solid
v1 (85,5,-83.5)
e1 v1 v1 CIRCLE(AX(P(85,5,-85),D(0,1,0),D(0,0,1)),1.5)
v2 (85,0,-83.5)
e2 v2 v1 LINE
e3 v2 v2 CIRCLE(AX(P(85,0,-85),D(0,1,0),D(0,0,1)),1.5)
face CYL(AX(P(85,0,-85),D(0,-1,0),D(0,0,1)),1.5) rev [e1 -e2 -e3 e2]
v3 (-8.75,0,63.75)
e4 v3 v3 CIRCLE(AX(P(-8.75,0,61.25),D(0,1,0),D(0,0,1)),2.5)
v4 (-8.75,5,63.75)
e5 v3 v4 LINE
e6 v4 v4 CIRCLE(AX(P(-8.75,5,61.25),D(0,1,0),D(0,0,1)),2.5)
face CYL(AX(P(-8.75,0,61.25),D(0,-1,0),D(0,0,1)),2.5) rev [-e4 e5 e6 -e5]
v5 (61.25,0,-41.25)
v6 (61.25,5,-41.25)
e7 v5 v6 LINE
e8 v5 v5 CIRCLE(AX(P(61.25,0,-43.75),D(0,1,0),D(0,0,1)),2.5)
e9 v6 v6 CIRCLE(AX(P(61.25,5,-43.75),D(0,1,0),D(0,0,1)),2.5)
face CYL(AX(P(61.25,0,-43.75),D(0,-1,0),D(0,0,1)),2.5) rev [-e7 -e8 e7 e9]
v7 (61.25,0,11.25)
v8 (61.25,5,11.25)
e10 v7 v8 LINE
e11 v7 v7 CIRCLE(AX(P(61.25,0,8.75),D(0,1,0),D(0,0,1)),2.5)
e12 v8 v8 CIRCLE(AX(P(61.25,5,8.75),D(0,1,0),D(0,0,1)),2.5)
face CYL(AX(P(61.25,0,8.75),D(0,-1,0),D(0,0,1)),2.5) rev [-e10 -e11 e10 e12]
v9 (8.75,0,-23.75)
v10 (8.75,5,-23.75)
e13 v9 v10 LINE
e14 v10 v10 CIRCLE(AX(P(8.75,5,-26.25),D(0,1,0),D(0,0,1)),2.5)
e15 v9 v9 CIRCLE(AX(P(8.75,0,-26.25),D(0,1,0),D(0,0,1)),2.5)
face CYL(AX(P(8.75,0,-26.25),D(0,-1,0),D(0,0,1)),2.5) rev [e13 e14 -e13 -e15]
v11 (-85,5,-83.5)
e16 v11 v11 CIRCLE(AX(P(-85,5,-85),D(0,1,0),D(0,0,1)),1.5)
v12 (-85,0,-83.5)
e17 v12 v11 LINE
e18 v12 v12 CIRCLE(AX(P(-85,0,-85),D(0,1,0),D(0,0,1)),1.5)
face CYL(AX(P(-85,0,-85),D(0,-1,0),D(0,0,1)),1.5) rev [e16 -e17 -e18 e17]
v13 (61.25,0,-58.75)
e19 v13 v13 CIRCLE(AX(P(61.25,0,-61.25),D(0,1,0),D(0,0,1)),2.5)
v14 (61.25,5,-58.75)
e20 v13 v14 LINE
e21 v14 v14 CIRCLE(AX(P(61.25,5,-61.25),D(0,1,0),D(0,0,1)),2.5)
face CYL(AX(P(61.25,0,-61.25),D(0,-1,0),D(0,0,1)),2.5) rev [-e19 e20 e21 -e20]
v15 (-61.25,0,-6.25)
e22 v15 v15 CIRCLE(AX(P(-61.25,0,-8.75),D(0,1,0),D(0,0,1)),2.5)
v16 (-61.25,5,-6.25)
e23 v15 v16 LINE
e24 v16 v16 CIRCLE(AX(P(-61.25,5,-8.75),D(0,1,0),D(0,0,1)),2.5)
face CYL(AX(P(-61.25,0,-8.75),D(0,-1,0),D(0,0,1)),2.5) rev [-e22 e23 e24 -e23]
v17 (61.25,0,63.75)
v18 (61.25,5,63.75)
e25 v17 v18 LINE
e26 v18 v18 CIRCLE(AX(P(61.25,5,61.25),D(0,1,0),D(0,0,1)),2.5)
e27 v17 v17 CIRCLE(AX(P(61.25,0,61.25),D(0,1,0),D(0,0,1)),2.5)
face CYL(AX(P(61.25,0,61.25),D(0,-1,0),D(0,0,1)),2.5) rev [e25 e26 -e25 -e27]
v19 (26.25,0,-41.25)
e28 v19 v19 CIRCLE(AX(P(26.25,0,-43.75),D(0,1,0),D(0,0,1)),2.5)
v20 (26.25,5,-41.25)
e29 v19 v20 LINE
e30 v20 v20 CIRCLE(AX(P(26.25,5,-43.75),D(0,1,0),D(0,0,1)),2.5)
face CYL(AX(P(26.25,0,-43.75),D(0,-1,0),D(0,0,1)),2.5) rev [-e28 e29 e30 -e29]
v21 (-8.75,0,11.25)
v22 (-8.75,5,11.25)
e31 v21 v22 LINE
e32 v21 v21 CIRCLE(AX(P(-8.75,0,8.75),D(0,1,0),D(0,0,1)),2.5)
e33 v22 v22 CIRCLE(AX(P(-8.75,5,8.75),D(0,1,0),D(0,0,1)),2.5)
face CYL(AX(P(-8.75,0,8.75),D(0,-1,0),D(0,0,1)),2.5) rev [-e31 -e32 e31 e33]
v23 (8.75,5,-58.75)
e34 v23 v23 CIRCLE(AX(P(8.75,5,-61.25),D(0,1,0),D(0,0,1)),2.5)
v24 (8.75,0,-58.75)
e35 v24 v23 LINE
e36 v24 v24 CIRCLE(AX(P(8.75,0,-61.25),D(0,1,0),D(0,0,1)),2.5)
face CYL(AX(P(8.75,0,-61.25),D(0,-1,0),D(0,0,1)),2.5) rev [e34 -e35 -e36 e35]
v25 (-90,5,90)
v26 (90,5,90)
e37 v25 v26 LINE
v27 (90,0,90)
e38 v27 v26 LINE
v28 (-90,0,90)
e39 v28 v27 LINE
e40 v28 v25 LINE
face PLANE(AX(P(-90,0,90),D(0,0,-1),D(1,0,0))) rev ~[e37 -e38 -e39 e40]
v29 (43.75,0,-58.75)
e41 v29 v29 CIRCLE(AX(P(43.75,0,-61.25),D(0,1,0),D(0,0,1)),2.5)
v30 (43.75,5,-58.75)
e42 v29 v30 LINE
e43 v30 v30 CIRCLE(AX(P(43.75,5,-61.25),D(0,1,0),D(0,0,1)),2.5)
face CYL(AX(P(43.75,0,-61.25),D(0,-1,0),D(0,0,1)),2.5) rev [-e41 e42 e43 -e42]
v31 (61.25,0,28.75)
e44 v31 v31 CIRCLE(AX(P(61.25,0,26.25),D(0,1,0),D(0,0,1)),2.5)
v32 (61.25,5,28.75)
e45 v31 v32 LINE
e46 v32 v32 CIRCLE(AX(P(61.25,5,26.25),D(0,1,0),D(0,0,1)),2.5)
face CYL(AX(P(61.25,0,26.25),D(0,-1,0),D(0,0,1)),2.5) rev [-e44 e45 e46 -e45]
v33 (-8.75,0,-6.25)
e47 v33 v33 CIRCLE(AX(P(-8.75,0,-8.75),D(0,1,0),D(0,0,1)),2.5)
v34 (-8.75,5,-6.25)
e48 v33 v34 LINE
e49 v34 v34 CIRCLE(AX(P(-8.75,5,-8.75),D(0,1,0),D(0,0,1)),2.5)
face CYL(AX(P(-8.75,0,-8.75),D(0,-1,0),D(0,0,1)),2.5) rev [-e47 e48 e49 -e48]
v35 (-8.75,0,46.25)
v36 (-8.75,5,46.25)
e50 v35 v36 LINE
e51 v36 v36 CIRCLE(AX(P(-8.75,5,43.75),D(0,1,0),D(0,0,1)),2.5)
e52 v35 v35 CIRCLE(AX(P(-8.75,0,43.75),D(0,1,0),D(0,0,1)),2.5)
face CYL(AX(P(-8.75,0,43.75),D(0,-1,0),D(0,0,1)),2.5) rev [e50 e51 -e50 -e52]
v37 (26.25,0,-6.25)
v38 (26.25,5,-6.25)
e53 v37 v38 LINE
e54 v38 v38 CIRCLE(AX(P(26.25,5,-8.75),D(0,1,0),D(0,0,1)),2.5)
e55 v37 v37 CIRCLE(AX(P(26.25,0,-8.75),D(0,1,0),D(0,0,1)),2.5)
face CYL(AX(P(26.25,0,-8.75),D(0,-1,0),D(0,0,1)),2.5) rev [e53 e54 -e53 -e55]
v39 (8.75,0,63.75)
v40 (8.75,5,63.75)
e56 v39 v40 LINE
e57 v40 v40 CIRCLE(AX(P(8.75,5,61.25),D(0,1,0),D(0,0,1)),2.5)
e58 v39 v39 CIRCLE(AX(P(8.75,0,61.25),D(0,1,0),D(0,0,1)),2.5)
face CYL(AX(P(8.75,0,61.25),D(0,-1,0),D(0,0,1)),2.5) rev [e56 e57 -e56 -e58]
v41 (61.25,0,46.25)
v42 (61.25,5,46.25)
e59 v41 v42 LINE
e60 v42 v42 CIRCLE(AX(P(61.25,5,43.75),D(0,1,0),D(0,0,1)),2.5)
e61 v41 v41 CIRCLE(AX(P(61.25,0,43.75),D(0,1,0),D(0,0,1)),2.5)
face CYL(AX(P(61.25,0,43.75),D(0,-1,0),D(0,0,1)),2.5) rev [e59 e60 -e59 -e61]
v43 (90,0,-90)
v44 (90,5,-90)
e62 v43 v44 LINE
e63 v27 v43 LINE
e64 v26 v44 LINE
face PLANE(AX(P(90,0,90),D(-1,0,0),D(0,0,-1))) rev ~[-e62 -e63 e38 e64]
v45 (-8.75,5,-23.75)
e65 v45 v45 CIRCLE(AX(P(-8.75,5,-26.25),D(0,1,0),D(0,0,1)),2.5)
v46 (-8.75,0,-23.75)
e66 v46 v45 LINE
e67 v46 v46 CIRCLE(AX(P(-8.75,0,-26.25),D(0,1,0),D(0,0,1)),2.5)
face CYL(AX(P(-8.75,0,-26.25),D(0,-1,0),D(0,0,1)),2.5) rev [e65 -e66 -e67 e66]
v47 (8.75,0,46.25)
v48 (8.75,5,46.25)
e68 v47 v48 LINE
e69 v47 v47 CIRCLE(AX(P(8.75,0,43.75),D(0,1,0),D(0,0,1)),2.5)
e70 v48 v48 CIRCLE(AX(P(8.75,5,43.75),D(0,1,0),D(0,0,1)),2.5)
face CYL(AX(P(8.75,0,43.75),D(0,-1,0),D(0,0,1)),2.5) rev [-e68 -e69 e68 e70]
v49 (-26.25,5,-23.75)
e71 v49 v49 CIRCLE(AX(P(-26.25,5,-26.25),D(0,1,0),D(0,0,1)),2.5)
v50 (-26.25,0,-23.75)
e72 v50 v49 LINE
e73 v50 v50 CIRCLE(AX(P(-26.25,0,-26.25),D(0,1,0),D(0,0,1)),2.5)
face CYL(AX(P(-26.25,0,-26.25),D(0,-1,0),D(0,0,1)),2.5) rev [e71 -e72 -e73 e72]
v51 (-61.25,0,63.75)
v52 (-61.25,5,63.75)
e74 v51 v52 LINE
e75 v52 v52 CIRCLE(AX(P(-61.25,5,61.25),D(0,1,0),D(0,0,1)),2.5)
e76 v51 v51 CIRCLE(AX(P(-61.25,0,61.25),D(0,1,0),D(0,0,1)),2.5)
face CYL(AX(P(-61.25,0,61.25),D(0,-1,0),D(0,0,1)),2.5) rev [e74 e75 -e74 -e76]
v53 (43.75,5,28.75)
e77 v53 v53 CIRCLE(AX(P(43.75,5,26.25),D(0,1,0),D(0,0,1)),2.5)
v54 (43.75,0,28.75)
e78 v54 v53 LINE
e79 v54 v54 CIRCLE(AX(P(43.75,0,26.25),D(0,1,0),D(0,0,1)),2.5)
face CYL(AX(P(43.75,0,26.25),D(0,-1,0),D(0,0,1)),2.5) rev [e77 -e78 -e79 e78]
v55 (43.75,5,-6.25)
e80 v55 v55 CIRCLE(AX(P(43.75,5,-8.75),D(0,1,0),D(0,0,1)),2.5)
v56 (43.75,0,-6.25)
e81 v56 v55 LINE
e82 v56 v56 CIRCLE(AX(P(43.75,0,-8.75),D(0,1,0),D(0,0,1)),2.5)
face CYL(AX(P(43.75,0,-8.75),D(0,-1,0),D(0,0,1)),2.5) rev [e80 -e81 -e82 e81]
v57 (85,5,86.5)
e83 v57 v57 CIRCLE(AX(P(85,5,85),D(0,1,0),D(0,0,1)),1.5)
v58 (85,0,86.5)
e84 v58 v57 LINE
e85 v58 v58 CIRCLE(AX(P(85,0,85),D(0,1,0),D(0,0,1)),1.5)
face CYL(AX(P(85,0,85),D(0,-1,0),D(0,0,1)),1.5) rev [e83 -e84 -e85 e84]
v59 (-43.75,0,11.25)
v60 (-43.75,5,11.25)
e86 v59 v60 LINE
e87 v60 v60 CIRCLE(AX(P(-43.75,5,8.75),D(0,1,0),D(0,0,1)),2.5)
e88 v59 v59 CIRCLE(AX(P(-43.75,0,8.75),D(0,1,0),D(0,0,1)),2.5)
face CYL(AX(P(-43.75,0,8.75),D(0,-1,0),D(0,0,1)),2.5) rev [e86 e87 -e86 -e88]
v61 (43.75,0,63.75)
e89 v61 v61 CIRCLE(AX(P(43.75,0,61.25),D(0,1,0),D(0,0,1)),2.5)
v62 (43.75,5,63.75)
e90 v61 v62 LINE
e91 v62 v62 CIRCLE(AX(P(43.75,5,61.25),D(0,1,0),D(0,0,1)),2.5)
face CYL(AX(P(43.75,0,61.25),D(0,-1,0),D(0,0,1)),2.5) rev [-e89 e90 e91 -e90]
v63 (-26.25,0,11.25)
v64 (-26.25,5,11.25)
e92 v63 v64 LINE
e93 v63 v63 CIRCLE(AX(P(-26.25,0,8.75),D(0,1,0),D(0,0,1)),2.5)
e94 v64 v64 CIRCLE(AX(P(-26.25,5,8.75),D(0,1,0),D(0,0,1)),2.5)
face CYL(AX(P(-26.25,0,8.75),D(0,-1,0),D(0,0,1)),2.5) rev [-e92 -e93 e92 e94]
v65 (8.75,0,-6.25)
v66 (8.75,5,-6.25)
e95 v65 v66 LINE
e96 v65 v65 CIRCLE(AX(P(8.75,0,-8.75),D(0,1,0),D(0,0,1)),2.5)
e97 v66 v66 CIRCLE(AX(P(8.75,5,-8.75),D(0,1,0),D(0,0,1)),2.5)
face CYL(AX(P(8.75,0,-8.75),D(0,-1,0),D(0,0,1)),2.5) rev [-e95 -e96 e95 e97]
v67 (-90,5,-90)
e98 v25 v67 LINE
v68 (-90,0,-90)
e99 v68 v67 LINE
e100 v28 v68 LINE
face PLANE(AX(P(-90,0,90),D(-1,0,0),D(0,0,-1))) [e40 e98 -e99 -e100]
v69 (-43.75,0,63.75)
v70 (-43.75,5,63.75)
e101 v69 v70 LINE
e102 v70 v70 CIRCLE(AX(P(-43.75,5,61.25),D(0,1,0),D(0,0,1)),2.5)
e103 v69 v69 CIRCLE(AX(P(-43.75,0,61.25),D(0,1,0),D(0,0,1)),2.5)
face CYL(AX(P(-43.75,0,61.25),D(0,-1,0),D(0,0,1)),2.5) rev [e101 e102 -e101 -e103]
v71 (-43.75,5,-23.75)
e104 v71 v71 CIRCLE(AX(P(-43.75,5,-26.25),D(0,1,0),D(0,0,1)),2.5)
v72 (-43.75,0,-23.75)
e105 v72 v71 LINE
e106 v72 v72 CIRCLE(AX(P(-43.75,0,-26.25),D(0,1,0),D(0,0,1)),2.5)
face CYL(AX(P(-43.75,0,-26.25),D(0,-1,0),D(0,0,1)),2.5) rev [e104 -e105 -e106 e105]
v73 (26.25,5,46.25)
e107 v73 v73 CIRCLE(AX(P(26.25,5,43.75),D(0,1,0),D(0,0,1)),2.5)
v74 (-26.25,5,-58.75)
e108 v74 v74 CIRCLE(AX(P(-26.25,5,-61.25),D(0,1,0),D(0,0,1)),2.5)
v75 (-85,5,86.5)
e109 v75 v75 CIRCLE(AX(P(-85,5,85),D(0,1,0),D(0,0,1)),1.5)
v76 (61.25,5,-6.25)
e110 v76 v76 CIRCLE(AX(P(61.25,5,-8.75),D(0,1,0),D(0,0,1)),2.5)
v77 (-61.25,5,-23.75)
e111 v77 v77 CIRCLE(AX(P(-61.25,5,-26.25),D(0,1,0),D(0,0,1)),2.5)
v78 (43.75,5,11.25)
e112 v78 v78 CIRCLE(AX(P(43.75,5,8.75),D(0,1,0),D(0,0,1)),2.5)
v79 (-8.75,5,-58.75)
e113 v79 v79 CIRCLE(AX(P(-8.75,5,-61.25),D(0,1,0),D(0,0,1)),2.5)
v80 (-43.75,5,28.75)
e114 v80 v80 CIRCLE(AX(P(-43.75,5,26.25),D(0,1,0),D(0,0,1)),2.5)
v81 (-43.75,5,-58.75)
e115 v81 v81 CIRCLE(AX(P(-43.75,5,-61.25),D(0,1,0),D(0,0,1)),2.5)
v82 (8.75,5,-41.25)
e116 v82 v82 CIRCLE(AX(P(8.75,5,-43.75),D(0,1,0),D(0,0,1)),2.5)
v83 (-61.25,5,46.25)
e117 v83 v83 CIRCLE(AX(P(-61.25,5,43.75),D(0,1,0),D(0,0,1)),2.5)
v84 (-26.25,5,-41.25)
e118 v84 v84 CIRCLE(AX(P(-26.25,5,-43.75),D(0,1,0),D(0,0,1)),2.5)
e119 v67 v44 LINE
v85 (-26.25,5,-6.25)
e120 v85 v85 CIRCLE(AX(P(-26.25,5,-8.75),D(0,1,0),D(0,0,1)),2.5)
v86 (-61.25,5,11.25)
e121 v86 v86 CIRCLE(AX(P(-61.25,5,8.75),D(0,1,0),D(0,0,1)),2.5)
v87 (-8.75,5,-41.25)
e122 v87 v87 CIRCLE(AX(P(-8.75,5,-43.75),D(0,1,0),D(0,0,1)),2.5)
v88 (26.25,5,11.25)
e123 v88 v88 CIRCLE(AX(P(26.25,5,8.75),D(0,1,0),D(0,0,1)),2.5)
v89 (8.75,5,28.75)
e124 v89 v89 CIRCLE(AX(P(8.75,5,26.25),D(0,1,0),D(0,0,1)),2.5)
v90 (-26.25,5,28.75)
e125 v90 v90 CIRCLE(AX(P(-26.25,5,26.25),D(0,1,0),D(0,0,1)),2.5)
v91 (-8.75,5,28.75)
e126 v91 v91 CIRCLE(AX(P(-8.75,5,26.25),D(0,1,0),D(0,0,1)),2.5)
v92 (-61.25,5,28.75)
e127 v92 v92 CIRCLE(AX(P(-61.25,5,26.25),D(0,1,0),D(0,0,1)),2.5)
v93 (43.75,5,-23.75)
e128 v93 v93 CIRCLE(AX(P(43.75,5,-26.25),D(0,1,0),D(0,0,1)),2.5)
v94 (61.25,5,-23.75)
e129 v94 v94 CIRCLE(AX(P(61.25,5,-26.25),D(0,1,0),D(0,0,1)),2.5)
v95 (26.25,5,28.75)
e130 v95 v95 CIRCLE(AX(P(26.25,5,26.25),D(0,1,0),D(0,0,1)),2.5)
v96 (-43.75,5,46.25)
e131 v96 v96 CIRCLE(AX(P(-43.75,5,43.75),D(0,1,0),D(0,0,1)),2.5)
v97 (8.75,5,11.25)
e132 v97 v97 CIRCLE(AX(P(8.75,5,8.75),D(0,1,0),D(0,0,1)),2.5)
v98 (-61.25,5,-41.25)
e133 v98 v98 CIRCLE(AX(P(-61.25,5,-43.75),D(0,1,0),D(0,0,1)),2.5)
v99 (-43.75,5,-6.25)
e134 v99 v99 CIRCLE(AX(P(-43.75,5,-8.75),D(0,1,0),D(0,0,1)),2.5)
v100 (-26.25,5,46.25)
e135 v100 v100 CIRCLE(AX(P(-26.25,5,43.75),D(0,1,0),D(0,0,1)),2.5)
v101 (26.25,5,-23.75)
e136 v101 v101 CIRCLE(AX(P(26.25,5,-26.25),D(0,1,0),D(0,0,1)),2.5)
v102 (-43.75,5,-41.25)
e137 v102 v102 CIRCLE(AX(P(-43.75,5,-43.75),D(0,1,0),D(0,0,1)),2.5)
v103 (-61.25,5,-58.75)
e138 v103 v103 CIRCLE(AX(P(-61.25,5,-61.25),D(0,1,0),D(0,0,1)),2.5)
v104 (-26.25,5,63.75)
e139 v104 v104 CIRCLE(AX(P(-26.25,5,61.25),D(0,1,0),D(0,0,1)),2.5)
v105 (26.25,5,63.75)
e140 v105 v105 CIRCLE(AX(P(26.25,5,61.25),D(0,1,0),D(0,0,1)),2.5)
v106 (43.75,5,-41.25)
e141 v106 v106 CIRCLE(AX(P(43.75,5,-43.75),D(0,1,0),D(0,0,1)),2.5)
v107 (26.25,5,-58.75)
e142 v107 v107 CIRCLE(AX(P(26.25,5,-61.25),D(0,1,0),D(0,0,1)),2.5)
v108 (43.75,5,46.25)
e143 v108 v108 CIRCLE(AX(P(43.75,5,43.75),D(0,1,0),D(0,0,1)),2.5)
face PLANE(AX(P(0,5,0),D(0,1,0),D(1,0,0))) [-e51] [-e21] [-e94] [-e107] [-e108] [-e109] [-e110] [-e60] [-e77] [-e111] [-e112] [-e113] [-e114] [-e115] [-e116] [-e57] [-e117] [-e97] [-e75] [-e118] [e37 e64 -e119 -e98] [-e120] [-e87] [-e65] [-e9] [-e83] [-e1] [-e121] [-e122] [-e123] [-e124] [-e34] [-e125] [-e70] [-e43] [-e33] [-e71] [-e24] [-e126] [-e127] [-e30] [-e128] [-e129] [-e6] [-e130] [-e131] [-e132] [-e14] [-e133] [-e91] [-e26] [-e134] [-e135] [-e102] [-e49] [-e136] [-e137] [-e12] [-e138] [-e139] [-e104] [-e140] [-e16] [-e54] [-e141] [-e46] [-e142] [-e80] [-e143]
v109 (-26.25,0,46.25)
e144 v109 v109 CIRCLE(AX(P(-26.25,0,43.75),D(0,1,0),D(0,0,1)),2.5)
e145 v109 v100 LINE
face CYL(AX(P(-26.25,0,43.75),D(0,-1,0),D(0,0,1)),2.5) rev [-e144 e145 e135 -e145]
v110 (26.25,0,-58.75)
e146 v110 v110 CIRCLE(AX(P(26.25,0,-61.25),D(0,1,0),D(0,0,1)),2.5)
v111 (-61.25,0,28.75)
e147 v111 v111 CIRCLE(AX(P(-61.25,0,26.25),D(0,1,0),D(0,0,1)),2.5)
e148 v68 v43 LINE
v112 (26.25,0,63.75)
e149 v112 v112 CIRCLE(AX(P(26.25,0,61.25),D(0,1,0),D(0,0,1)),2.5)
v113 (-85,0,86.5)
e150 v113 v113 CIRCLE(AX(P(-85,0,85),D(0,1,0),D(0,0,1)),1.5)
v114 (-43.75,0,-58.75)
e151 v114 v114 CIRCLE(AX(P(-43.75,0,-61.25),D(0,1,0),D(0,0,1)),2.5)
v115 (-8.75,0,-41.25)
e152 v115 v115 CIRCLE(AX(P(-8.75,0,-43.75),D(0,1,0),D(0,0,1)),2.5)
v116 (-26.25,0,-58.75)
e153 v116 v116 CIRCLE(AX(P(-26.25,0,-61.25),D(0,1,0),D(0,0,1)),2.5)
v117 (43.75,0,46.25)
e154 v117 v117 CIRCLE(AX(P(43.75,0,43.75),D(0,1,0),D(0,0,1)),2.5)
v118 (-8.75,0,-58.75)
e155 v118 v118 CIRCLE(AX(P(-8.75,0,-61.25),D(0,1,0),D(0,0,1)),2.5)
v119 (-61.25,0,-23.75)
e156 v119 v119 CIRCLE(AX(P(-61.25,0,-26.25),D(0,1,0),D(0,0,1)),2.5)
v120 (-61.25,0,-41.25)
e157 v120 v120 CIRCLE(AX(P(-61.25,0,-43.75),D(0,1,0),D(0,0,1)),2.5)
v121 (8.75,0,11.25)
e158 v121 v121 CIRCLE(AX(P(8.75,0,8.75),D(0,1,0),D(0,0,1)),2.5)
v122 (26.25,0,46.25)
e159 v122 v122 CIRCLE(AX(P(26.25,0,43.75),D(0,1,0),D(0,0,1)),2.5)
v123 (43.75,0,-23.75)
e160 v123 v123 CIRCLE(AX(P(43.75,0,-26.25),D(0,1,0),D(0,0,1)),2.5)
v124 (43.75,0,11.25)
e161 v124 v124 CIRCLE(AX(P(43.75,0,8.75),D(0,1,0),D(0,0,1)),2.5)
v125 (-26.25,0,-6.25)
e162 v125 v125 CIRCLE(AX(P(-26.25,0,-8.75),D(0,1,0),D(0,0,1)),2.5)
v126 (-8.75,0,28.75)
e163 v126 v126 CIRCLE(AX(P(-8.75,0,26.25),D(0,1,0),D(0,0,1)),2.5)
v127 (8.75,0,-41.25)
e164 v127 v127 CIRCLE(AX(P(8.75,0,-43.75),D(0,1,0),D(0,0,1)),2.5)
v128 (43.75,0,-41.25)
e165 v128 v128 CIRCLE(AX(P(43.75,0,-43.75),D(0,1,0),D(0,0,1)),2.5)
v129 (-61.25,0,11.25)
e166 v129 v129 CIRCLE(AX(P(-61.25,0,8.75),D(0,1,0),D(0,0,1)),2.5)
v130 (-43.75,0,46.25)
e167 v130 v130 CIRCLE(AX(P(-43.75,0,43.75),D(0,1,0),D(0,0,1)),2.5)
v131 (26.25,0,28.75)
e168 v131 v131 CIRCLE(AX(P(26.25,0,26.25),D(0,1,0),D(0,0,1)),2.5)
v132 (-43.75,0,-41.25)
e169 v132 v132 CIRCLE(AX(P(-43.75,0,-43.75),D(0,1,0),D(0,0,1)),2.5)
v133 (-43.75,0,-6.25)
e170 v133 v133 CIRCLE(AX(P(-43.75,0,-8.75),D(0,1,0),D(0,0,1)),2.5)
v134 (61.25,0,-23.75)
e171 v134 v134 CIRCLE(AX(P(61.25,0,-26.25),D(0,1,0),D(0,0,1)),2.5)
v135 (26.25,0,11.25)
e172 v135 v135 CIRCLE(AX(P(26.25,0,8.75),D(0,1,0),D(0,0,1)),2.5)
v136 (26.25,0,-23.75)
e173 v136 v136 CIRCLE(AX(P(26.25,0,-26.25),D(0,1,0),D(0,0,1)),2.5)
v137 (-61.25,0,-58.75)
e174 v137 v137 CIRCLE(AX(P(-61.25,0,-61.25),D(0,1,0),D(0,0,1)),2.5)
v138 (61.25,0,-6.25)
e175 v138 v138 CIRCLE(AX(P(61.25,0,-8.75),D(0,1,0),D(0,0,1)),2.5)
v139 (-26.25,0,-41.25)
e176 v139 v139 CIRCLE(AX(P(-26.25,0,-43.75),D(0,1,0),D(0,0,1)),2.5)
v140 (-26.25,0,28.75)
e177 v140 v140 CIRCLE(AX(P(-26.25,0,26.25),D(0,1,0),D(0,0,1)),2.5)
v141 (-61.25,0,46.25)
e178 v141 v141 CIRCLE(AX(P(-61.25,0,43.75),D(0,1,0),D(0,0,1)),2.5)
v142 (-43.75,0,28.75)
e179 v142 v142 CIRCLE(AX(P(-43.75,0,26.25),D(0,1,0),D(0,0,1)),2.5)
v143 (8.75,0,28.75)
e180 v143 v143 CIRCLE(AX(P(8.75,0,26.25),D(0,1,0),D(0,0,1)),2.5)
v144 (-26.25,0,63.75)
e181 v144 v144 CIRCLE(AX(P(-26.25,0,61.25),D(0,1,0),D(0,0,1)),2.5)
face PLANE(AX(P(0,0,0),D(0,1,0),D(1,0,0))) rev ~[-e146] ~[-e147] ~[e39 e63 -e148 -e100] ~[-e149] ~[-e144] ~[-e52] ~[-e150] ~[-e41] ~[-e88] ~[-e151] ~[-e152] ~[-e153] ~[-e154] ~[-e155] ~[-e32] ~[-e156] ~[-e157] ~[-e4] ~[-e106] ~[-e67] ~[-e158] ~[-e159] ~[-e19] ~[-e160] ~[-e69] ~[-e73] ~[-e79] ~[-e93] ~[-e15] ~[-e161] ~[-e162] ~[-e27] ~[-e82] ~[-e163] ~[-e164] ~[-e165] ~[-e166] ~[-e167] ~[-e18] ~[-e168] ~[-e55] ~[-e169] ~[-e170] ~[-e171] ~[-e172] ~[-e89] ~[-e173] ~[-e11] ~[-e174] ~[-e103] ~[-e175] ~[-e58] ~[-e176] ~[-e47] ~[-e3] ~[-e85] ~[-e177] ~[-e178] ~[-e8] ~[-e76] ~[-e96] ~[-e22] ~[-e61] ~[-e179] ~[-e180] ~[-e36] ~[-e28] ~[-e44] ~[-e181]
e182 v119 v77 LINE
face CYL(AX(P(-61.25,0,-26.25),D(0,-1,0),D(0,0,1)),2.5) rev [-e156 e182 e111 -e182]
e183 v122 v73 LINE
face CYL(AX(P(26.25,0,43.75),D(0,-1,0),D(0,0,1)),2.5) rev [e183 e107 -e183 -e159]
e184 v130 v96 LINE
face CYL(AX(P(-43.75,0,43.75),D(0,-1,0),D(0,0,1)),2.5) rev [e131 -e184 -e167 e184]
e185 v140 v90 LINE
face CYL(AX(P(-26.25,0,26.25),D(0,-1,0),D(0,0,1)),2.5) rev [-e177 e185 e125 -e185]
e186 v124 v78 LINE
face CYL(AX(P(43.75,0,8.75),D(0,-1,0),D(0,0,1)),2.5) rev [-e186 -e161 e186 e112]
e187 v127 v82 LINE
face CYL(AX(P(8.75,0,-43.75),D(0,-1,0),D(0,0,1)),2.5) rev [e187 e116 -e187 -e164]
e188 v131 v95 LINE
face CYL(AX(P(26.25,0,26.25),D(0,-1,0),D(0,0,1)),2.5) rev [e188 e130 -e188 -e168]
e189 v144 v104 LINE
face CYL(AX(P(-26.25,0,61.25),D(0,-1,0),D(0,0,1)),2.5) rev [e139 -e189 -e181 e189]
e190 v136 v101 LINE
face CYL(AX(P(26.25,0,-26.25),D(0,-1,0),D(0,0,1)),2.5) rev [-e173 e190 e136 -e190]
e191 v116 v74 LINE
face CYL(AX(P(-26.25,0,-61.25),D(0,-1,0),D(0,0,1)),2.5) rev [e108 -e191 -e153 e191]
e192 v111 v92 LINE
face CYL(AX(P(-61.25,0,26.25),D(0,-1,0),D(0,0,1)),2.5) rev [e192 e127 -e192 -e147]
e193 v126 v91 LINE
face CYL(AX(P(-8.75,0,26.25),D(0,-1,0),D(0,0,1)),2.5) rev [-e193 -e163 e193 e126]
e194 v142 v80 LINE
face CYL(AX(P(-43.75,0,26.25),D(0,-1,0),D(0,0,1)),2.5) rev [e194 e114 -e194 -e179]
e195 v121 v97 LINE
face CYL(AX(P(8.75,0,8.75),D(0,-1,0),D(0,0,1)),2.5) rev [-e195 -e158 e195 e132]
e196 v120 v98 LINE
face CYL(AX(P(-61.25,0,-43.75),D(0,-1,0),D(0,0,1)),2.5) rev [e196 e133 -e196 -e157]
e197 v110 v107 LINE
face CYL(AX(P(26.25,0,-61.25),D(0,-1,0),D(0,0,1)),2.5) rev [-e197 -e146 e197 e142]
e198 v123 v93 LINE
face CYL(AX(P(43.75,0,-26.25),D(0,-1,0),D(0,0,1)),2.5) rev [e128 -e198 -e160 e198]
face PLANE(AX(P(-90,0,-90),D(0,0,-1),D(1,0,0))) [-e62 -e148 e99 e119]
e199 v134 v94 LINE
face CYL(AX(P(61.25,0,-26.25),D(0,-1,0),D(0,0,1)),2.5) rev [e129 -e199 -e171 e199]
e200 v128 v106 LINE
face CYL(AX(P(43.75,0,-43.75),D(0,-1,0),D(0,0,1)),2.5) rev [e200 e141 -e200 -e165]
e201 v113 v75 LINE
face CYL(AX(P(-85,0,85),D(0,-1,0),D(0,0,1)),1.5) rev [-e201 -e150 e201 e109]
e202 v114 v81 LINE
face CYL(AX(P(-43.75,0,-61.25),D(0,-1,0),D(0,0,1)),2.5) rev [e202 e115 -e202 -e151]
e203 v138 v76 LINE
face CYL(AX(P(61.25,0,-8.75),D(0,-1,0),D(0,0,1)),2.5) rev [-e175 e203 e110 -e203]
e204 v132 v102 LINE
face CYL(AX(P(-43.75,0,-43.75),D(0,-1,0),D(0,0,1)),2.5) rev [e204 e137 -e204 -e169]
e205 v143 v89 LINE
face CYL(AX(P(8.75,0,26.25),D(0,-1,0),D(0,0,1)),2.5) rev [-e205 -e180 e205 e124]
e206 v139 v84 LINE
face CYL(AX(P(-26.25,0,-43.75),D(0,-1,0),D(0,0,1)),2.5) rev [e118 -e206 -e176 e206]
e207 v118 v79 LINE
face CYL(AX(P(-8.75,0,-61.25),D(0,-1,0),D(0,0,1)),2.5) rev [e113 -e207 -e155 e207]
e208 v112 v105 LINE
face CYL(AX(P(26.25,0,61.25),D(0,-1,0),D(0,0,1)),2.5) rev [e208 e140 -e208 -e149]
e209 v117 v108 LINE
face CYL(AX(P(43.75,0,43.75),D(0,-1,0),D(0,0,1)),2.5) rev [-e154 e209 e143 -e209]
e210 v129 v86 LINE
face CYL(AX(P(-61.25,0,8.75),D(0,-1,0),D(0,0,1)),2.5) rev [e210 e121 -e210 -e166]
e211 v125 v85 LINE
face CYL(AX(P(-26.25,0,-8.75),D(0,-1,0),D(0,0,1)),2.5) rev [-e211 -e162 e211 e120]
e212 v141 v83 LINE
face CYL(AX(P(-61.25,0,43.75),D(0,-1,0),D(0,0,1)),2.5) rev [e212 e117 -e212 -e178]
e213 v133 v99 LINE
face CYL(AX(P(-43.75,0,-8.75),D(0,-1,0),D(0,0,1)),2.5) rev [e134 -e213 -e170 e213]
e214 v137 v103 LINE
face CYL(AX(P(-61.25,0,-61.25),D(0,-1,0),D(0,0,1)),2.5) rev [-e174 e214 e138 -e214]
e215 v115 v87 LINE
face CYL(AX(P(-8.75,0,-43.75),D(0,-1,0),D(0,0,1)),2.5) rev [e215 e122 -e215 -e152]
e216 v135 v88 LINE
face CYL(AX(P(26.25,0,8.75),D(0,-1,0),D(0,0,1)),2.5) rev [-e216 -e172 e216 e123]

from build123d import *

# Parameters (mm, degrees)
SKETCH2_W        = 180
SKETCH2_H        = 180
SKETCH2_R        = 2.5
SKETCH2_R_2      = 1.5
KHUNG_MICA_DEPTH = 5


with BuildPart() as part:
    # Sketch2 → khung_mica (new body)
    with BuildSketch(Plane(origin=(0, 0, 0), x_dir=(1, 0, 0), z_dir=(0, 1, 0))):
        Rectangle(SKETCH2_W, SKETCH2_H)
        with Locations(Location((-61.25, 61.25, 0), (0, 0, 270))):
            Circle(SKETCH2_R, mode=Mode.SUBTRACT)
        with Locations(Location((-43.75, 61.25, 0), (0, 0, 270))):
            Circle(SKETCH2_R, mode=Mode.SUBTRACT)
        with Locations(Location((-26.25, 61.25, 0), (0, 0, 270))):
            Circle(SKETCH2_R, mode=Mode.SUBTRACT)
        with Locations(Location((-8.75, 61.25, 0), (0, 0, 270))):
            Circle(SKETCH2_R, mode=Mode.SUBTRACT)
        with Locations(Location((8.75, 61.25, 0), (0, 0, 270))):
            Circle(SKETCH2_R, mode=Mode.SUBTRACT)
        with Locations(Location((26.25, 61.25, 0), (0, 0, 270))):
            Circle(SKETCH2_R, mode=Mode.SUBTRACT)
        with Locations(Location((43.75, 61.25, 0), (0, 0, 270))):
            Circle(SKETCH2_R, mode=Mode.SUBTRACT)
        with Locations(Location((61.25, 61.25, 0), (0, 0, 270))):
            Circle(SKETCH2_R, mode=Mode.SUBTRACT)
        with Locations(Location((-43.75, 43.75, 0), (0, 0, 270))):
            Circle(SKETCH2_R, mode=Mode.SUBTRACT)
        with Locations(Location((-61.25, 43.75, 0), (0, 0, 270))):
            Circle(SKETCH2_R, mode=Mode.SUBTRACT)
        with Locations(Location((-26.25, 43.75, 0), (0, 0, 270))):
            Circle(SKETCH2_R, mode=Mode.SUBTRACT)
        with Locations(Location((-8.75, 43.75, 0), (0, 0, 270))):
            Circle(SKETCH2_R, mode=Mode.SUBTRACT)
        with Locations(Location((8.75, 43.75, 0), (0, 0, 270))):
            Circle(SKETCH2_R, mode=Mode.SUBTRACT)
        with Locations(Location((26.25, 43.75, 0), (0, 0, 270))):
            Circle(SKETCH2_R, mode=Mode.SUBTRACT)
        with Locations(Location((43.75, 43.75, 0), (0, 0, 270))):
            Circle(SKETCH2_R, mode=Mode.SUBTRACT)
        with Locations(Location((61.25, 43.75, 0), (0, 0, 270))):
            Circle(SKETCH2_R, mode=Mode.SUBTRACT)
        with Locations(Location((-43.75, 26.25, 0), (0, 0, 270))):
            Circle(SKETCH2_R, mode=Mode.SUBTRACT)
        with Locations(Location((-61.25, 26.25, 0), (0, 0, 270))):
            Circle(SKETCH2_R, mode=Mode.SUBTRACT)
        with Locations(Location((-26.25, 26.25, 0), (0, 0, 270))):
            Circle(SKETCH2_R, mode=Mode.SUBTRACT)
        with Locations(Location((-8.75, 26.25, 0), (0, 0, 270))):
            Circle(SKETCH2_R, mode=Mode.SUBTRACT)
        with Locations(Location((8.75, 26.25, 0), (0, 0, 270))):
            Circle(SKETCH2_R, mode=Mode.SUBTRACT)
        with Locations(Location((26.25, 26.25, 0), (0, 0, 270))):
            Circle(SKETCH2_R, mode=Mode.SUBTRACT)
        with Locations(Location((43.75, 26.25, 0), (0, 0, 270))):
            Circle(SKETCH2_R, mode=Mode.SUBTRACT)
        with Locations(Location((61.25, 26.25, 0), (0, 0, 270))):
            Circle(SKETCH2_R, mode=Mode.SUBTRACT)
        with Locations(Location((-43.75, 8.75, 0), (0, 0, 270))):
            Circle(SKETCH2_R, mode=Mode.SUBTRACT)
        with Locations(Location((-61.25, 8.75, 0), (0, 0, 270))):
            Circle(SKETCH2_R, mode=Mode.SUBTRACT)
        with Locations(Location((-26.25, 8.75, 0), (0, 0, 270))):
            Circle(SKETCH2_R, mode=Mode.SUBTRACT)
        with Locations(Location((-8.75, 8.75, 0), (0, 0, 270))):
            Circle(SKETCH2_R, mode=Mode.SUBTRACT)
        with Locations(Location((8.75, 8.75, 0), (0, 0, 270))):
            Circle(SKETCH2_R, mode=Mode.SUBTRACT)
        with Locations(Location((26.25, 8.75, 0), (0, 0, 270))):
            Circle(SKETCH2_R, mode=Mode.SUBTRACT)
        with Locations(Location((43.75, 8.75, 0), (0, 0, 270))):
            Circle(SKETCH2_R, mode=Mode.SUBTRACT)
        with Locations(Location((61.25, 8.75, 0), (0, 0, 270))):
            Circle(SKETCH2_R, mode=Mode.SUBTRACT)
        with Locations(Location((-43.75, -8.75, 0), (0, 0, 270))):
            Circle(SKETCH2_R, mode=Mode.SUBTRACT)
        with Locations(Location((-61.25, -8.75, 0), (0, 0, 270))):
            Circle(SKETCH2_R, mode=Mode.SUBTRACT)
        with Locations(Location((-26.25, -8.75, 0), (0, 0, 270))):
            Circle(SKETCH2_R, mode=Mode.SUBTRACT)
        with Locations(Location((-8.75, -8.75, 0), (0, 0, 270))):
            Circle(SKETCH2_R, mode=Mode.SUBTRACT)
        with Locations(Location((8.75, -8.75, 0), (0, 0, 270))):
            Circle(SKETCH2_R, mode=Mode.SUBTRACT)
        with Locations(Location((26.25, -8.75, 0), (0, 0, 270))):
            Circle(SKETCH2_R, mode=Mode.SUBTRACT)
        with Locations(Location((43.75, -8.75, 0), (0, 0, 270))):
            Circle(SKETCH2_R, mode=Mode.SUBTRACT)
        with Locations(Location((61.25, -8.75, 0), (0, 0, 270))):
            Circle(SKETCH2_R, mode=Mode.SUBTRACT)
        with Locations(Location((-43.75, -26.25, 0), (0, 0, 270))):
            Circle(SKETCH2_R, mode=Mode.SUBTRACT)
        with Locations(Location((-61.25, -26.25, 0), (0, 0, 270))):
            Circle(SKETCH2_R, mode=Mode.SUBTRACT)
        with Locations(Location((-26.25, -26.25, 0), (0, 0, 270))):
            Circle(SKETCH2_R, mode=Mode.SUBTRACT)
        with Locations(Location((-8.75, -26.25, 0), (0, 0, 270))):
            Circle(SKETCH2_R, mode=Mode.SUBTRACT)
        with Locations(Location((8.75, -26.25, 0), (0, 0, 270))):
            Circle(SKETCH2_R, mode=Mode.SUBTRACT)
        with Locations(Location((26.25, -26.25, 0), (0, 0, 270))):
            Circle(SKETCH2_R, mode=Mode.SUBTRACT)
        with Locations(Location((43.75, -26.25, 0), (0, 0, 270))):
            Circle(SKETCH2_R, mode=Mode.SUBTRACT)
        with Locations(Location((61.25, -26.25, 0), (0, 0, 270))):
            Circle(SKETCH2_R, mode=Mode.SUBTRACT)
        with Locations(Location((-43.75, -43.75, 0), (0, 0, 270))):
            Circle(SKETCH2_R, mode=Mode.SUBTRACT)
        with Locations(Location((-61.25, -43.75, 0), (0, 0, 270))):
            Circle(SKETCH2_R, mode=Mode.SUBTRACT)
        with Locations(Location((-26.25, -43.75, 0), (0, 0, 270))):
            Circle(SKETCH2_R, mode=Mode.SUBTRACT)
        with Locations(Location((-8.75, -43.75, 0), (0, 0, 270))):
            Circle(SKETCH2_R, mode=Mode.SUBTRACT)
        with Locations(Location((8.75, -43.75, 0), (0, 0, 270))):
            Circle(SKETCH2_R, mode=Mode.SUBTRACT)
        with Locations(Location((26.25, -43.75, 0), (0, 0, 270))):
            Circle(SKETCH2_R, mode=Mode.SUBTRACT)
        with Locations(Location((43.75, -43.75, 0), (0, 0, 270))):
            Circle(SKETCH2_R, mode=Mode.SUBTRACT)
        with Locations(Location((61.25, -43.75, 0), (0, 0, 270))):
            Circle(SKETCH2_R, mode=Mode.SUBTRACT)
        with Locations(Location((-43.75, -61.25, 0), (0, 0, 270))):
            Circle(SKETCH2_R, mode=Mode.SUBTRACT)
        with Locations(Location((-61.25, -61.25, 0), (0, 0, 270))):
            Circle(SKETCH2_R, mode=Mode.SUBTRACT)
        with Locations(Location((-26.25, -61.25, 0), (0, 0, 270))):
            Circle(SKETCH2_R, mode=Mode.SUBTRACT)
        with Locations(Location((-8.75, -61.25, 0), (0, 0, 270))):
            Circle(SKETCH2_R, mode=Mode.SUBTRACT)
        with Locations(Location((8.75, -61.25, 0), (0, 0, 270))):
            Circle(SKETCH2_R, mode=Mode.SUBTRACT)
        with Locations(Location((26.25, -61.25, 0), (0, 0, 270))):
            Circle(SKETCH2_R, mode=Mode.SUBTRACT)
        with Locations(Location((43.75, -61.25, 0), (0, 0, 270))):
            Circle(SKETCH2_R, mode=Mode.SUBTRACT)
        with Locations(Location((61.25, -61.25, 0), (0, 0, 270))):
            Circle(SKETCH2_R, mode=Mode.SUBTRACT)
        with Locations(Location((-85, 85, 0), (0, 0, 270))):
            Circle(SKETCH2_R_2, mode=Mode.SUBTRACT)
        with Locations(Location((85, 85, 0), (0, 0, 270))):
            Circle(SKETCH2_R_2, mode=Mode.SUBTRACT)
        with Locations(Location((85, -85, 0), (0, 0, 270))):
            Circle(SKETCH2_R_2, mode=Mode.SUBTRACT)
        with Locations(Location((-85, -85, 0), (0, 0, 270))):
            Circle(SKETCH2_R_2, mode=Mode.SUBTRACT)
    extrude(amount=KHUNG_MICA_DEPTH)


solid = part.part
